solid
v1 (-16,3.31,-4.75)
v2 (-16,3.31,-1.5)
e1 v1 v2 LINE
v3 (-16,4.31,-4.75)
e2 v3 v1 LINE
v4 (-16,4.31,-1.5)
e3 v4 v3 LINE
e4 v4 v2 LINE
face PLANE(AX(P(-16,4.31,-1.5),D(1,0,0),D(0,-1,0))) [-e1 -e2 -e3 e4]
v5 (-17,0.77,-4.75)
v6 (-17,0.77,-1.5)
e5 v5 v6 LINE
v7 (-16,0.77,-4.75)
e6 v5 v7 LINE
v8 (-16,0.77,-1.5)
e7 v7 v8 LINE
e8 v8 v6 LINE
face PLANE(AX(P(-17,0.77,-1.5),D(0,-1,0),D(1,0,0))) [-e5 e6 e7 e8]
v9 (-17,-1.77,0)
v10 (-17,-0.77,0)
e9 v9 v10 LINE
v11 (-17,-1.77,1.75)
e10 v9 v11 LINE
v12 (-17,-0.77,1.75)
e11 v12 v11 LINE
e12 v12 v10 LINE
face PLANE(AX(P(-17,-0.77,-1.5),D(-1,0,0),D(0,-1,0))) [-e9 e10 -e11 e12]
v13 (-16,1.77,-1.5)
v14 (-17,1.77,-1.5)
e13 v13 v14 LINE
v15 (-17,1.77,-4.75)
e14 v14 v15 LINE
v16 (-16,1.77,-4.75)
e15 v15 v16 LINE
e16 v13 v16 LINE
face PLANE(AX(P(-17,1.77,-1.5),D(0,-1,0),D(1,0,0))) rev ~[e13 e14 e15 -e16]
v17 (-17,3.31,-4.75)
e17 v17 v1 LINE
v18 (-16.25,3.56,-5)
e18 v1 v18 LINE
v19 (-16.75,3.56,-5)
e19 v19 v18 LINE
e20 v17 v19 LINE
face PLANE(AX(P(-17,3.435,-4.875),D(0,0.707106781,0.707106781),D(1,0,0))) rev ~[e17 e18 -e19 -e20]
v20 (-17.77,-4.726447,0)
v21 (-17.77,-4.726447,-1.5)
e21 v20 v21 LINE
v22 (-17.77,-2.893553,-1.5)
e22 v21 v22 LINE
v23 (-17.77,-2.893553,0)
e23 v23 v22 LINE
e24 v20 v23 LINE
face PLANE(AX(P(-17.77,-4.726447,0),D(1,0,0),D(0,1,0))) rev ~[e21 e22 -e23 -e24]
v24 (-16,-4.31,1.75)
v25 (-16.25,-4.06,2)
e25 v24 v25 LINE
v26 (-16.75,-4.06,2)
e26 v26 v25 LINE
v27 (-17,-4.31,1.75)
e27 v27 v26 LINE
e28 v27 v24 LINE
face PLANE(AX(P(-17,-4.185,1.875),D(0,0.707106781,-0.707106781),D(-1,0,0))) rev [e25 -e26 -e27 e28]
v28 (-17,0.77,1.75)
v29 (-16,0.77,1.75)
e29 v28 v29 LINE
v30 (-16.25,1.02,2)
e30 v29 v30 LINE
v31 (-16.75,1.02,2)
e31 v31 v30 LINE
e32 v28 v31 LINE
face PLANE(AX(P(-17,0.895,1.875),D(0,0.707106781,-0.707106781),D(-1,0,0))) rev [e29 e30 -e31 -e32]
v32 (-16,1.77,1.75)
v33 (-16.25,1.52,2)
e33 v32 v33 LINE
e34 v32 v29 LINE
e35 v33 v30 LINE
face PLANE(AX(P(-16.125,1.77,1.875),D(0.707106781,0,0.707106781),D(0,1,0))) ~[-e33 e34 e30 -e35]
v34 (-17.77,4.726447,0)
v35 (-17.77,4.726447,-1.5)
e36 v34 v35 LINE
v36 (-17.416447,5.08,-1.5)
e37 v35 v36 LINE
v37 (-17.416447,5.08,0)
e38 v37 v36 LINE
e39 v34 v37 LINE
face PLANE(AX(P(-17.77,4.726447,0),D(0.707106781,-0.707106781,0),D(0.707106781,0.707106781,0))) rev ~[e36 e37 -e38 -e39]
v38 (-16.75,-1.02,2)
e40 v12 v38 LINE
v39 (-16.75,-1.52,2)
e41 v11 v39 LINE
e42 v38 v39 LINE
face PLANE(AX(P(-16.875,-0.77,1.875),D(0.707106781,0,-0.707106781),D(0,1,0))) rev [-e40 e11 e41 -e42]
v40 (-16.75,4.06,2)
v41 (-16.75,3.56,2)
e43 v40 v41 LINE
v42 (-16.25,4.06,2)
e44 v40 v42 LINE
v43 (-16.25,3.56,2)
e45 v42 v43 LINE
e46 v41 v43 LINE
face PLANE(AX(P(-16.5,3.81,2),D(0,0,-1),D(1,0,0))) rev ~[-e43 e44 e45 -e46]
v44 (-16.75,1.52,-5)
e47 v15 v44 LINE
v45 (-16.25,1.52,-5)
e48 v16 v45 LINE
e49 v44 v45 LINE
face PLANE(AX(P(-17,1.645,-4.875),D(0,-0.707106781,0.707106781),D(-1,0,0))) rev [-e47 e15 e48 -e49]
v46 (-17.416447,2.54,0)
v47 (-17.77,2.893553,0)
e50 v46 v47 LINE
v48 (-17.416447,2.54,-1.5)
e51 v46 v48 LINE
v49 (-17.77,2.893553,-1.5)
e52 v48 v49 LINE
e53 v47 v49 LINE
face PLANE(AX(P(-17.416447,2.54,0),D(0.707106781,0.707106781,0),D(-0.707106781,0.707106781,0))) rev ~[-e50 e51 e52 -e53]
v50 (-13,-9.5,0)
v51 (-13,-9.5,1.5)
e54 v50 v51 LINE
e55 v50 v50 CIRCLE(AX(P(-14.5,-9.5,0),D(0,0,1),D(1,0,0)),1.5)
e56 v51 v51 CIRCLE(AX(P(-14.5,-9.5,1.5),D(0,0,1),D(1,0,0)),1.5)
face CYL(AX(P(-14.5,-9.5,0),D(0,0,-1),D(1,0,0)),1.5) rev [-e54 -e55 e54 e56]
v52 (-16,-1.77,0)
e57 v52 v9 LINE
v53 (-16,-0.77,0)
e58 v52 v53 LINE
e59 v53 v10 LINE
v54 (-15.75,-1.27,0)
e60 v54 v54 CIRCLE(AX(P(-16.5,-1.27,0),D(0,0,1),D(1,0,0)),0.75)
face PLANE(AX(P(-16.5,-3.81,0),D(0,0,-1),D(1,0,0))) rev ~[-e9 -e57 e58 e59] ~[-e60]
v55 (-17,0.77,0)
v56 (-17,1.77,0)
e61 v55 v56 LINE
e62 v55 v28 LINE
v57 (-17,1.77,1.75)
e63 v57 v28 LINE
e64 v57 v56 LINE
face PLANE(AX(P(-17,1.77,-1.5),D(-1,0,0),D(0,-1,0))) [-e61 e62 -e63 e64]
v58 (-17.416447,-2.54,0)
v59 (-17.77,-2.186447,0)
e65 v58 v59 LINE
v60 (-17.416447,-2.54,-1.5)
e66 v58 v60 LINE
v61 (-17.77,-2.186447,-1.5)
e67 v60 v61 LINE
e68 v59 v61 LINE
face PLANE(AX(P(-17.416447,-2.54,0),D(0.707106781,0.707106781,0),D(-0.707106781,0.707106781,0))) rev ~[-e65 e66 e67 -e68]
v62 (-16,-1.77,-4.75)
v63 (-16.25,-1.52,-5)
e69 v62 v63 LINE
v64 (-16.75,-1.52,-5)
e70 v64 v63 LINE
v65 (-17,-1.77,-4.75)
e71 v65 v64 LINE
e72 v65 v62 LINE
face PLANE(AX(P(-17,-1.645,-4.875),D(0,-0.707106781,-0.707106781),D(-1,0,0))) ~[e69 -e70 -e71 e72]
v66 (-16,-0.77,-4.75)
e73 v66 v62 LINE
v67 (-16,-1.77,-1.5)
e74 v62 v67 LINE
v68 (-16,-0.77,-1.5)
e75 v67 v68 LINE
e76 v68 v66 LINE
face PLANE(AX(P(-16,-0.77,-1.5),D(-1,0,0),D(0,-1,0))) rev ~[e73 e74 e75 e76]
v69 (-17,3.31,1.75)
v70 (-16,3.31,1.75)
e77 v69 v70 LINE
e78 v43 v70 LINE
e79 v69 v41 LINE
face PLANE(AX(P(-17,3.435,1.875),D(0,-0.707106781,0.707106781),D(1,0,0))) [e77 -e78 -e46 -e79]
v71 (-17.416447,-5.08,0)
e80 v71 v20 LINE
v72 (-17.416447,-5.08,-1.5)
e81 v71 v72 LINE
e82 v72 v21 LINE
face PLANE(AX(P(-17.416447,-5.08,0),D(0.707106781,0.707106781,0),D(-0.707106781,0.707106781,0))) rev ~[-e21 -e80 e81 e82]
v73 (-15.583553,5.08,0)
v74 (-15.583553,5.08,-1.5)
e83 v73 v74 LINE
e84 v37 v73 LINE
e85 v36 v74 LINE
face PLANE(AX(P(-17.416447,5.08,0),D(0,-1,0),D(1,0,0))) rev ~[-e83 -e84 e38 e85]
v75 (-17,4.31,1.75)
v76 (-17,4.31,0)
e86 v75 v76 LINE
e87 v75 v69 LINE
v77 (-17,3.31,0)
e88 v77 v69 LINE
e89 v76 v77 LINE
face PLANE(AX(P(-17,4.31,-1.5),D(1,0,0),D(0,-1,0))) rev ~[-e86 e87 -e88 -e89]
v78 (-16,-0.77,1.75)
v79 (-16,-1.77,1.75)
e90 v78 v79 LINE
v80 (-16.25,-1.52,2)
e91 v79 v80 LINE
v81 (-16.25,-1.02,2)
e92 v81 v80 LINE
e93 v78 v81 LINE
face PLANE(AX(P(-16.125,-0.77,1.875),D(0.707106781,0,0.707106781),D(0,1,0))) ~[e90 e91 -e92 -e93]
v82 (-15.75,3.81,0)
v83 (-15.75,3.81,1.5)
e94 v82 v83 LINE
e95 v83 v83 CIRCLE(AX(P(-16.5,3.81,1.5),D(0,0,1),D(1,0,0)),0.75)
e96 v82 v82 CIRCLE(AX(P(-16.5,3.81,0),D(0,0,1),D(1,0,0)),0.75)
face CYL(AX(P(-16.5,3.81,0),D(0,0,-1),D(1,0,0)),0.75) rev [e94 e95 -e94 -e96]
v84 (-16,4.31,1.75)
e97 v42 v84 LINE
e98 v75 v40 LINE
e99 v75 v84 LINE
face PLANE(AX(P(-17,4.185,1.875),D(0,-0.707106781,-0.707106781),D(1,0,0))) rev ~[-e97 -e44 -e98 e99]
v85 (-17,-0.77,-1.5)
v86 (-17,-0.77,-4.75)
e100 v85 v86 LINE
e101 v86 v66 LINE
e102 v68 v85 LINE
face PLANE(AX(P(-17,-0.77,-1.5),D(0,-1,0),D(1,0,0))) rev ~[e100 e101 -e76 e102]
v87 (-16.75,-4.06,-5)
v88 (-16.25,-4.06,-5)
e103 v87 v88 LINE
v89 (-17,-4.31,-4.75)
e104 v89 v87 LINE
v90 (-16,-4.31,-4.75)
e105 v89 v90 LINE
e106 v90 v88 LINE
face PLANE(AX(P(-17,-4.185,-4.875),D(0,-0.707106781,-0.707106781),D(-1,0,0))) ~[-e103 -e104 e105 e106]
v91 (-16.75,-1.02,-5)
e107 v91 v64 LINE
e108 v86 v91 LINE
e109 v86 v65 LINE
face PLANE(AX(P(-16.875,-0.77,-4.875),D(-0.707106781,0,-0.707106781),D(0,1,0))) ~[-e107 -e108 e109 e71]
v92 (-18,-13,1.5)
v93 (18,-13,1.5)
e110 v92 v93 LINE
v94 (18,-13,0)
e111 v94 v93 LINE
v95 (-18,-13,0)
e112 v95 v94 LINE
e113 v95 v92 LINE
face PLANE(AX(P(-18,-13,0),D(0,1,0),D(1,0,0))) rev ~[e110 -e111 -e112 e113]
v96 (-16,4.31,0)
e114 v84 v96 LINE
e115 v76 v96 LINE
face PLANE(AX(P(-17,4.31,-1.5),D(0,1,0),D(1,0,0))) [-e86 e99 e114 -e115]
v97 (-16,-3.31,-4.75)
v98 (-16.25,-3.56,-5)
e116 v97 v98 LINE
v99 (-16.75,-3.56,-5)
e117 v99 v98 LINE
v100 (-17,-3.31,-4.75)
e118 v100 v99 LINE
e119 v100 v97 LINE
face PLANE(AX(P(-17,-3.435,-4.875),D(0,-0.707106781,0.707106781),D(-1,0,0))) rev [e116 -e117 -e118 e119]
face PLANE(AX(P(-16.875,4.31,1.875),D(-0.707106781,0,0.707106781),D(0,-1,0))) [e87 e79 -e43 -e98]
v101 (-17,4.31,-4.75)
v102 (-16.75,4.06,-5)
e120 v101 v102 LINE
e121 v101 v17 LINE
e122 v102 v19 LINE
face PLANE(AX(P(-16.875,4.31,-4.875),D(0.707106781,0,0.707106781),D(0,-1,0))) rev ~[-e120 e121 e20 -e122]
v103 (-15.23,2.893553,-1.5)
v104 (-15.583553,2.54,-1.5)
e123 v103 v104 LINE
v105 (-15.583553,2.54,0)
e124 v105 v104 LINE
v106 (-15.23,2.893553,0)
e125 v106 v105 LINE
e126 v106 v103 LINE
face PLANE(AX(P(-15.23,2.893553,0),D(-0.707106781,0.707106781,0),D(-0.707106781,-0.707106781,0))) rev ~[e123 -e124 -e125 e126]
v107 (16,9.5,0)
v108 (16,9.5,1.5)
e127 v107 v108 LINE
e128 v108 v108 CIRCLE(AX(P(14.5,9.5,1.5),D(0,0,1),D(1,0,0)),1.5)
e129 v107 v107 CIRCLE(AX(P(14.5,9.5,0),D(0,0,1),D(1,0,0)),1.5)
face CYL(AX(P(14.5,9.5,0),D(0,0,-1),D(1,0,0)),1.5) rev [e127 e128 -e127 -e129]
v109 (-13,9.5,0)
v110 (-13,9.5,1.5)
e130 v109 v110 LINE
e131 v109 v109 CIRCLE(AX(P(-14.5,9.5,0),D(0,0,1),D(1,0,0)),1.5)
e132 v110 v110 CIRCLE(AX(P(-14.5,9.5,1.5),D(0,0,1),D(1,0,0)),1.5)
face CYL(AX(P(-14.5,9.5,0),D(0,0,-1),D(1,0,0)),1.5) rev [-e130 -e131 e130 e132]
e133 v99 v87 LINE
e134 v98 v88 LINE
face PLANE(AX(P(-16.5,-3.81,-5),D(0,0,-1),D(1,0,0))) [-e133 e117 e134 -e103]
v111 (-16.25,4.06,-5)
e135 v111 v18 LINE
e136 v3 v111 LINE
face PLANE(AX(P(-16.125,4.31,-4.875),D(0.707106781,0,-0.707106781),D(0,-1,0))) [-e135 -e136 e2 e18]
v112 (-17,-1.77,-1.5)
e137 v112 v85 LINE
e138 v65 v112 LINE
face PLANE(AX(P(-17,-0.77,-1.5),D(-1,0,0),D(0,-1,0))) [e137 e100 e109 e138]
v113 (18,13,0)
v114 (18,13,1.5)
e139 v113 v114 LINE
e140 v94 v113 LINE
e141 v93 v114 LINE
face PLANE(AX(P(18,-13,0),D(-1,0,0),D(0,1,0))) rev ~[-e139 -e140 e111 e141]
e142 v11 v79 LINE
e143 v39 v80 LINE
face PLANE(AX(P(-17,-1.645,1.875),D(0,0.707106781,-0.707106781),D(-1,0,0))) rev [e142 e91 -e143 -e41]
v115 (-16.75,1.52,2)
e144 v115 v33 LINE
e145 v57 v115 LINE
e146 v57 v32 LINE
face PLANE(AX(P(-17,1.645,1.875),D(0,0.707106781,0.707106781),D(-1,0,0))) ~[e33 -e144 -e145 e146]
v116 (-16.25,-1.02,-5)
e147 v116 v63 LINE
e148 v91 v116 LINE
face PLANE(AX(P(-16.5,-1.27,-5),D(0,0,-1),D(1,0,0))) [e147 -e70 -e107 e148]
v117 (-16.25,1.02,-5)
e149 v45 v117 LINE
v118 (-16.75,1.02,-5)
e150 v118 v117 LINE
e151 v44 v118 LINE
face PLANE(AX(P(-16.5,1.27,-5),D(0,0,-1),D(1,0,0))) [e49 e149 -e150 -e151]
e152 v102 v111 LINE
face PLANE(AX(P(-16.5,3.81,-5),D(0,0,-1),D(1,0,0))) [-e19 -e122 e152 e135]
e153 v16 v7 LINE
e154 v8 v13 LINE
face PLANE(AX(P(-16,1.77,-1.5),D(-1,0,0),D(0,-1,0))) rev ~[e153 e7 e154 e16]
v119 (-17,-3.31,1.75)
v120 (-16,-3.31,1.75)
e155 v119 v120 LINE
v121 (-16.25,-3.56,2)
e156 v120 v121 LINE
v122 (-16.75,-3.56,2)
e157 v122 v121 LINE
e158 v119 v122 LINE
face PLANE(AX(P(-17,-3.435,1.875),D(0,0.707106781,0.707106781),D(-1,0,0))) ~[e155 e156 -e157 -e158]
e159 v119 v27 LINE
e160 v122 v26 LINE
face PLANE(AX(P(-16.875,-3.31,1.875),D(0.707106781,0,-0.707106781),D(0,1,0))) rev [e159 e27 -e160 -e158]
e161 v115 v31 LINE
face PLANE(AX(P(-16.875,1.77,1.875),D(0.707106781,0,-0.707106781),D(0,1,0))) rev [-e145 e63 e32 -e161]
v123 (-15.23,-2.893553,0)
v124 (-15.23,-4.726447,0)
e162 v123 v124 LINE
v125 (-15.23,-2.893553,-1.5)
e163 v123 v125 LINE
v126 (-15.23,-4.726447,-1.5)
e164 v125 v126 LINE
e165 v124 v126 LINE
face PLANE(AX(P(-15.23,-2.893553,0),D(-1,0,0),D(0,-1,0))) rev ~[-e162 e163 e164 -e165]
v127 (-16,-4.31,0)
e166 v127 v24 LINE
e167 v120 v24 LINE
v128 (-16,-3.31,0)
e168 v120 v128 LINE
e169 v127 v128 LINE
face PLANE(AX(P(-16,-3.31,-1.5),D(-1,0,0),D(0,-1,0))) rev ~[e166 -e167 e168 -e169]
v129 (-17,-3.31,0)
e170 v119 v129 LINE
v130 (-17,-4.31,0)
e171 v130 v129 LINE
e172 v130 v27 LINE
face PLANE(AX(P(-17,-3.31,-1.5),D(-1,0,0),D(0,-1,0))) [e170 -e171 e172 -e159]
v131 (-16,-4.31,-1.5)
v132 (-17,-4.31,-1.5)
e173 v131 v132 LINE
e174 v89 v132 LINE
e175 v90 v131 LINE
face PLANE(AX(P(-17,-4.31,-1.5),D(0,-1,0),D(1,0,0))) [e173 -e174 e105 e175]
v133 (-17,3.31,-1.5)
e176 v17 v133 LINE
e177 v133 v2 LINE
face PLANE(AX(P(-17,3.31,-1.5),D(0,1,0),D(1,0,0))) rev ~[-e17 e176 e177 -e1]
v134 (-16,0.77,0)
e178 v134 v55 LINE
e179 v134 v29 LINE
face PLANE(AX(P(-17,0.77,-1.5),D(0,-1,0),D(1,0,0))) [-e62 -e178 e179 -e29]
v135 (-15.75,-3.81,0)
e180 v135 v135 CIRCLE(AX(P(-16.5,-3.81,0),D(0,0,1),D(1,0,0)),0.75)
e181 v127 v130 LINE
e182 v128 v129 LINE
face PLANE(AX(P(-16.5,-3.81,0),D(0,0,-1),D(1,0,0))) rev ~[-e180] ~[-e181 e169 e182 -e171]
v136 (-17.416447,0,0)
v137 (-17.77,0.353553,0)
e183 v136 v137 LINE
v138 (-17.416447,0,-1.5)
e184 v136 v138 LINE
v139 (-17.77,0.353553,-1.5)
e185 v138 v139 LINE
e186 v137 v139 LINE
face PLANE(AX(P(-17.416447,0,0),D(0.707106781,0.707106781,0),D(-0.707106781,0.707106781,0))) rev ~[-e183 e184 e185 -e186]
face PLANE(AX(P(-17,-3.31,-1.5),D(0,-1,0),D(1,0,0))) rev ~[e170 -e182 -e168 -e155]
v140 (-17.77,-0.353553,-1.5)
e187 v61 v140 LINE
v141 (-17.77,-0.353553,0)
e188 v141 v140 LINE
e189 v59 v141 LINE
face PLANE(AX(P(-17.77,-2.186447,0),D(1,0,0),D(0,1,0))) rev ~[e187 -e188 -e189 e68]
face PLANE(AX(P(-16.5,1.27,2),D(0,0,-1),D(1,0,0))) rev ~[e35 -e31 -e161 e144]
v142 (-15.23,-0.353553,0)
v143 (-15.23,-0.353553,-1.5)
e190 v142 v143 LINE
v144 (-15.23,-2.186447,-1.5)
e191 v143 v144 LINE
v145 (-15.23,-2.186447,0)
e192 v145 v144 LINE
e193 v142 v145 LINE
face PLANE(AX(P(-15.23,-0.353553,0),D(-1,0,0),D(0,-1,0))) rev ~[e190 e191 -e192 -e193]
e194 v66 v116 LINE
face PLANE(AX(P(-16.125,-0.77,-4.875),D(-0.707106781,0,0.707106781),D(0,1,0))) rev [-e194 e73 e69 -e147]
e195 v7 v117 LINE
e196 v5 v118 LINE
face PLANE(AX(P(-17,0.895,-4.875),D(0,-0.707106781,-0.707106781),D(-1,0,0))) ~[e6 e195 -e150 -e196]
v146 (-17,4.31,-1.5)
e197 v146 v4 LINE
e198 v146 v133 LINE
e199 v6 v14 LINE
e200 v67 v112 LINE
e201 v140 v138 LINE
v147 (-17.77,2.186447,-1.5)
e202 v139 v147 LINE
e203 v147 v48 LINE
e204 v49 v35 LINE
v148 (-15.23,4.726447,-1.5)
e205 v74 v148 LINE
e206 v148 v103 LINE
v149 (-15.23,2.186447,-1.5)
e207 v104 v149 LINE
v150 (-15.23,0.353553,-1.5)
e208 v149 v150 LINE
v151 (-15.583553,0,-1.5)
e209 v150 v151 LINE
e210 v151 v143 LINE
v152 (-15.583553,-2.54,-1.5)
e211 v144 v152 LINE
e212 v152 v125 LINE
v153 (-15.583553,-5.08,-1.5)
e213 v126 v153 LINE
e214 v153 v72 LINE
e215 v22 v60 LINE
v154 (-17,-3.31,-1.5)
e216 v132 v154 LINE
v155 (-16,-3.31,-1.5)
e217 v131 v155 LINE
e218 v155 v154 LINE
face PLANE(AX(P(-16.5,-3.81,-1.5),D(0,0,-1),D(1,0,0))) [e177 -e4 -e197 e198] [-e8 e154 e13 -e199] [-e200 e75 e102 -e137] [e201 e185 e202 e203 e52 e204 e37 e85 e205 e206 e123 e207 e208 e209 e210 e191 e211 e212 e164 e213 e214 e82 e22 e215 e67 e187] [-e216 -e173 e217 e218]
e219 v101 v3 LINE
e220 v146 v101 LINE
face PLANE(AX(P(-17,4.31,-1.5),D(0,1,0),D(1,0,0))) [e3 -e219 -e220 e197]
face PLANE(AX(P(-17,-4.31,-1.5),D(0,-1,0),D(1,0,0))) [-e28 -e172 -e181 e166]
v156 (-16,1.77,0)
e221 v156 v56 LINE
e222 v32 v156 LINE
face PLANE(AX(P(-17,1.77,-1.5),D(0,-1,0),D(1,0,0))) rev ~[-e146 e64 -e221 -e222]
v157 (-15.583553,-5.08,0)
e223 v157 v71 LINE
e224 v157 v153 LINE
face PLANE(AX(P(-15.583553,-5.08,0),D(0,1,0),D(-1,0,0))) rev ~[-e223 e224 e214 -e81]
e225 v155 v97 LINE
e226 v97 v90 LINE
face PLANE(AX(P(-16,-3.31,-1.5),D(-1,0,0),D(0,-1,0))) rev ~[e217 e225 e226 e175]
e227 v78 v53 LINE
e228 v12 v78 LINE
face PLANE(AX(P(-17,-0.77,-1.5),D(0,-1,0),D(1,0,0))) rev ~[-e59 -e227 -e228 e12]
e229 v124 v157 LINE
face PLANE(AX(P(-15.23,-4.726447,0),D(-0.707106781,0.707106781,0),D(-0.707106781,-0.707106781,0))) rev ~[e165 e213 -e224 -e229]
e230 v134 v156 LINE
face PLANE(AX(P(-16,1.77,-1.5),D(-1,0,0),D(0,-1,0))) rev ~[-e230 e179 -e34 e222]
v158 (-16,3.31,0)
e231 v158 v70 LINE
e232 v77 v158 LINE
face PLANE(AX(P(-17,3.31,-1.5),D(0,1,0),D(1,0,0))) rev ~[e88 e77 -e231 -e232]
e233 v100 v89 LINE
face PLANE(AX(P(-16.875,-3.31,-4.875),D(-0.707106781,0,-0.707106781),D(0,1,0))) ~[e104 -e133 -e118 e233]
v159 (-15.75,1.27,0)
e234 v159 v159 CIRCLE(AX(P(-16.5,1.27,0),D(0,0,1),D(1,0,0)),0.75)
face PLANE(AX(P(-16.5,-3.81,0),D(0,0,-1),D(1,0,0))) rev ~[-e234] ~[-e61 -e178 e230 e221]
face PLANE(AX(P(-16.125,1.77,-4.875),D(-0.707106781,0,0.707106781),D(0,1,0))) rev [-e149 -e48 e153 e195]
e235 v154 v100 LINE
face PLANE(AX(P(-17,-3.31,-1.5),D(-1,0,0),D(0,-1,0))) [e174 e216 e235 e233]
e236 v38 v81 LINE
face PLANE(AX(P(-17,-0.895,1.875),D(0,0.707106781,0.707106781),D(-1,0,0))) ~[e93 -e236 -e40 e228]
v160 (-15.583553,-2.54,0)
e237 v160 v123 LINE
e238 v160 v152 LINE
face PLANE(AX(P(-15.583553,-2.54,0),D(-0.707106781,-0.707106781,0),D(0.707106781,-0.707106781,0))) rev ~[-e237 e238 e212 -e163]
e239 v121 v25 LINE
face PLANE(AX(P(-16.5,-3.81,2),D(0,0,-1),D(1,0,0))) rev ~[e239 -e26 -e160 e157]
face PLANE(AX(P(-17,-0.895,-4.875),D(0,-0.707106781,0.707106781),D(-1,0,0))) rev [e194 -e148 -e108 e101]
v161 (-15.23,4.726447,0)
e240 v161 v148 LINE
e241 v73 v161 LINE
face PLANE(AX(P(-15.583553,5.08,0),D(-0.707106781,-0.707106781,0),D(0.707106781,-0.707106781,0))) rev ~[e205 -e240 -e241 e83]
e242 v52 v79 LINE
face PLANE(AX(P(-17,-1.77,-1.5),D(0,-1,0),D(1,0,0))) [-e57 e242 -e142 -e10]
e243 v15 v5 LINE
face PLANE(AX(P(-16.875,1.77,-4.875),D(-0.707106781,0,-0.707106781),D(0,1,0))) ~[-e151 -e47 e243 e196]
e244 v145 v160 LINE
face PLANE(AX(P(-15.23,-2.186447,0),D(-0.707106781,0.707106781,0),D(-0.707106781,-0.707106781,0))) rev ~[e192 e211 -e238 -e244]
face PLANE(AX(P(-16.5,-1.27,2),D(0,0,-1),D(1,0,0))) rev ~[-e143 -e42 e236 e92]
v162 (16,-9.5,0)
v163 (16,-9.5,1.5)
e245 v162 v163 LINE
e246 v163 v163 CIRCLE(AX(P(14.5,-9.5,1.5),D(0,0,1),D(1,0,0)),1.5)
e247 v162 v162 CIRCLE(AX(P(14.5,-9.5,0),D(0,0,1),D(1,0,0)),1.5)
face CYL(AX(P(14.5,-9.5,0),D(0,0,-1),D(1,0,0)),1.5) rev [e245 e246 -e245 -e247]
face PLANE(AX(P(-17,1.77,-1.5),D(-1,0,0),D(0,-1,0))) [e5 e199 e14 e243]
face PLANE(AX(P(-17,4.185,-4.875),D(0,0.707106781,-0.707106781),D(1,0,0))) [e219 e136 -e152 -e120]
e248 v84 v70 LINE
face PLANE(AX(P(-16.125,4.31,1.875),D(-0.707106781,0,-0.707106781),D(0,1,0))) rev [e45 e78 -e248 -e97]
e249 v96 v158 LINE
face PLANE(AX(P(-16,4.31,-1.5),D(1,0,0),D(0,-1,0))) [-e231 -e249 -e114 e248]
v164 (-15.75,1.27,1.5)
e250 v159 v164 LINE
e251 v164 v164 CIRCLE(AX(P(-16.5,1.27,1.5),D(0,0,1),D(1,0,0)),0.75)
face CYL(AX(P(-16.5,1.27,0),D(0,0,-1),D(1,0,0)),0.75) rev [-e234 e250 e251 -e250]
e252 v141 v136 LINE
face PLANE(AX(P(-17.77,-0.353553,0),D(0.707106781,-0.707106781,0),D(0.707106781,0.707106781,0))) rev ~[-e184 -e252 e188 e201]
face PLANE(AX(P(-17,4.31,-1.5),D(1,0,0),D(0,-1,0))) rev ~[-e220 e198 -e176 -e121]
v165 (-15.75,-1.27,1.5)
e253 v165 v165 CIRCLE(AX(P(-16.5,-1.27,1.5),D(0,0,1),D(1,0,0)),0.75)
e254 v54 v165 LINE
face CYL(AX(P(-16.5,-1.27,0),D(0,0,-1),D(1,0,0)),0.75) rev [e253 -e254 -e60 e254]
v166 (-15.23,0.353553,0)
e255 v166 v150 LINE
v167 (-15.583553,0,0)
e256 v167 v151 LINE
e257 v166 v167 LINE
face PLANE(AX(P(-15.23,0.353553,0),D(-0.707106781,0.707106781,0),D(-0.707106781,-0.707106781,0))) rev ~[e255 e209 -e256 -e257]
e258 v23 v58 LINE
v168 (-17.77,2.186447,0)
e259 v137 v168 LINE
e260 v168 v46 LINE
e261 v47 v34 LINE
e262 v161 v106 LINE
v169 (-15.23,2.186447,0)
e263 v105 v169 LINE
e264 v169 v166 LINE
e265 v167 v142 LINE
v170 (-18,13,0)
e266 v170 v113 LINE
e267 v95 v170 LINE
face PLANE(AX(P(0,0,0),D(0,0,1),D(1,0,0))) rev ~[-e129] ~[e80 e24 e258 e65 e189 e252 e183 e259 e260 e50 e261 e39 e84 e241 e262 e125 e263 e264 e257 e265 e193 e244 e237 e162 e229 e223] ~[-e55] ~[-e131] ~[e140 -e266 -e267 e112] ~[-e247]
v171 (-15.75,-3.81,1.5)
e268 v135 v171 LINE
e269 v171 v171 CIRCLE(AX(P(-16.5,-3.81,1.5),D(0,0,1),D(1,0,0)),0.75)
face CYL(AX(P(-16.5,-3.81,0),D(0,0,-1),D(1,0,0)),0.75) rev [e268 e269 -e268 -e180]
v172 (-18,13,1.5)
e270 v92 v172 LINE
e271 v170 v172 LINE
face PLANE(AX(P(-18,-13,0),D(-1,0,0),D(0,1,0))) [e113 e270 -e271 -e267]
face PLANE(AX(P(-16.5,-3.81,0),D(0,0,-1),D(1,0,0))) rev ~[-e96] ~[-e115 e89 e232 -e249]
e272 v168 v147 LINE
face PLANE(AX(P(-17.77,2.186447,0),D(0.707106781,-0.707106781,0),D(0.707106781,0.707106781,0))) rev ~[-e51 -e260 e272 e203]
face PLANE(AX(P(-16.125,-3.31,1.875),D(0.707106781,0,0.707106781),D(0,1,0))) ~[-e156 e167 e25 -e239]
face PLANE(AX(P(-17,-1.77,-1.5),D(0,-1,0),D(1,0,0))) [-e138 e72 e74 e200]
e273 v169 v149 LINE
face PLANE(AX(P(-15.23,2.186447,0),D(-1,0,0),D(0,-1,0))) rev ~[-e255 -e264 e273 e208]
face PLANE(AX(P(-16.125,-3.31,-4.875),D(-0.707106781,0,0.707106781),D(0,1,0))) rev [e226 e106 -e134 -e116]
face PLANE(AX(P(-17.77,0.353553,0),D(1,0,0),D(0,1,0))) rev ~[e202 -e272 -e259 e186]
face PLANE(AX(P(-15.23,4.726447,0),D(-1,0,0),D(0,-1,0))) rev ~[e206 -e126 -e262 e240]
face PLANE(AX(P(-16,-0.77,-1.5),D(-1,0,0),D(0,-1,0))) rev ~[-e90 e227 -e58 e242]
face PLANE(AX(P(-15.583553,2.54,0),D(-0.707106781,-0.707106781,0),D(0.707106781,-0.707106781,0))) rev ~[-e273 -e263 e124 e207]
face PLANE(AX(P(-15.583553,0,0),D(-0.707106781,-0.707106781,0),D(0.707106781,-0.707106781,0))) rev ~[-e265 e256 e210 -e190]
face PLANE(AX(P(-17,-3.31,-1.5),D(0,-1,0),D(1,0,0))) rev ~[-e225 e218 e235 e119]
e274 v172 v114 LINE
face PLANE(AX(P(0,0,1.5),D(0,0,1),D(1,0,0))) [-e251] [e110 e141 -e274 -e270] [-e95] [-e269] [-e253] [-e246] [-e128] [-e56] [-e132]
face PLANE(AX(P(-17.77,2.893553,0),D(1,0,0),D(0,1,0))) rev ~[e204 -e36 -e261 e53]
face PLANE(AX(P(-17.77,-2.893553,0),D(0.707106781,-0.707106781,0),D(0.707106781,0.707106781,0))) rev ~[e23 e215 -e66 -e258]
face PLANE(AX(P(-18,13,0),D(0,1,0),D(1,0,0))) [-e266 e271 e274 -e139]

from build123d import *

# Parameters (mm, degrees)
SKETCH_W     = 36
SKETCH_H     = 26
SKETCH_R     = 1.5
SKETCH_R_2   = 0.75
PAD_DEPTH    = 1.5
PAD001_DEPTH = 1.5
SKETCH002_W  = 1
SKETCH002_H  = 1
PAD002_DEPTH = 3.5
CHAMFER_SIZE = 0.25


with BuildPart() as part:
    # Sketch → Pad (new body)
    with BuildSketch(Plane.XY):
        Rectangle(SKETCH_W, SKETCH_H)
        with Locations((-14.5, 9.5)):
            Circle(SKETCH_R, mode=Mode.SUBTRACT)
        with Locations((14.5, 9.5)):
            Circle(SKETCH_R, mode=Mode.SUBTRACT)
        with Locations((14.5, -9.5)):
            Circle(SKETCH_R, mode=Mode.SUBTRACT)
        with Locations((-14.5, -9.5)):
            Circle(SKETCH_R, mode=Mode.SUBTRACT)
        with Locations((-16.5, 3.81)):
            Circle(SKETCH_R_2, mode=Mode.SUBTRACT)
        with Locations((-16.5, 1.27)):
            Circle(SKETCH_R_2, mode=Mode.SUBTRACT)
        with Locations((-16.5, -1.27)):
            Circle(SKETCH_R_2, mode=Mode.SUBTRACT)
        with Locations((-16.5, -3.81)):
            Circle(SKETCH_R_2, mode=Mode.SUBTRACT)
    extrude(amount=PAD_DEPTH)

    # Sketch001 (on Face13 of Pad) → Pad001 (join)
    with BuildSketch(Plane(origin=(0, 0, 0), x_dir=(1, 0, 0), z_dir=(0, 0, -1))):
        Polygon((-17.77, 4.726447), (-17.77, 2.893553), (-17.416447, 2.54), (-15.583553, 2.54), (-15.23, 2.893553), (-15.23, 4.726447), (-15.583553, 5.08), (-17.416447, 5.08), align=None)
        Polygon((-17.77, 2.186447), (-17.77, 0.353553), (-17.416447, 0), (-15.583553, 0), (-15.23, 0.353553), (-15.23, 2.186447), (-15.583553, 2.54), (-17.416447, 2.54), align=None)
        Polygon((-17.77, -0.353553), (-17.77, -2.186447), (-17.416447, -2.54), (-15.583553, -2.54), (-15.23, -2.186447), (-15.23, -0.353553), (-15.583553, 0), (-17.416447, 0), align=None)
        Polygon((-17.77, -2.893553), (-17.77, -4.726447), (-17.416447, -5.08), (-15.583553, -5.08), (-15.23, -4.726447), (-15.23, -2.893553), (-15.583553, -2.54), (-17.416447, -2.54), align=None)
    extrude(amount=PAD001_DEPTH)

    # Sketch002 (on Face41 of Pad001) → Pad002 (join, symmetric)
    with BuildSketch(Plane(origin=(0, 0, -1.5), x_dir=(1, 0, 0), z_dir=(0, 0, -1))):
        with Locations((-16.5, 3.81)):
            Rectangle(SKETCH002_W, SKETCH002_H)
        with Locations((-16.5, 1.27)):
            Rectangle(SKETCH002_W, SKETCH002_H)
        with Locations((-16.5, -1.27)):
            Rectangle(SKETCH002_W, SKETCH002_H)
        with Locations((-16.5, -3.81)):
            Rectangle(SKETCH002_W, SKETCH002_H)
    extrude(amount=PAD002_DEPTH, both=True)

    # Chamfer
    chamfer_edges = [part.edges().sort_by_distance(p)[0] for p in [
        (-16, 1.27, 2),
        (-16, 3.81, 2),
        (-16.5, 4.31, 2),
        (-17, 3.81, 2),
        (-16.5, 3.31, 2),
        (-16.5, 1.77, 2),
        (-17, 1.27, 2),
        (-16.5, 0.77, 2),
        (-17, -1.27, 2),
        (-16.5, -0.77, 2),
        (-16, -1.27, 2),
        (-16.5, -1.77, 2),
        (-16.5, -3.31, 2),
        (-17, -3.81, 2),
        (-16.5, -4.31, 2),
        (-16, -3.81, 2),
        (-16, -1.27, -5),
        (-16, -3.81, -5),
        (-16.5, -4.31, -5),
        (-17, -3.81, -5),
        (-16.5, -3.31, -5),
        (-16.5, -1.77, -5),
        (-17, -1.27, -5),
        (-16.5, -0.77, -5),
        (-16.5, 0.77, -5),
        (-16, 1.27, -5),
        (-16.5, 1.77, -5),
        (-17, 1.27, -5),
        (-16.5, 3.31, -5),
        (-16, 3.81, -5),
        (-16.5, 4.31, -5),
        (-17, 3.81, -5),
    ]]
    chamfer(chamfer_edges, length=CHAMFER_SIZE)


solid = part.part
